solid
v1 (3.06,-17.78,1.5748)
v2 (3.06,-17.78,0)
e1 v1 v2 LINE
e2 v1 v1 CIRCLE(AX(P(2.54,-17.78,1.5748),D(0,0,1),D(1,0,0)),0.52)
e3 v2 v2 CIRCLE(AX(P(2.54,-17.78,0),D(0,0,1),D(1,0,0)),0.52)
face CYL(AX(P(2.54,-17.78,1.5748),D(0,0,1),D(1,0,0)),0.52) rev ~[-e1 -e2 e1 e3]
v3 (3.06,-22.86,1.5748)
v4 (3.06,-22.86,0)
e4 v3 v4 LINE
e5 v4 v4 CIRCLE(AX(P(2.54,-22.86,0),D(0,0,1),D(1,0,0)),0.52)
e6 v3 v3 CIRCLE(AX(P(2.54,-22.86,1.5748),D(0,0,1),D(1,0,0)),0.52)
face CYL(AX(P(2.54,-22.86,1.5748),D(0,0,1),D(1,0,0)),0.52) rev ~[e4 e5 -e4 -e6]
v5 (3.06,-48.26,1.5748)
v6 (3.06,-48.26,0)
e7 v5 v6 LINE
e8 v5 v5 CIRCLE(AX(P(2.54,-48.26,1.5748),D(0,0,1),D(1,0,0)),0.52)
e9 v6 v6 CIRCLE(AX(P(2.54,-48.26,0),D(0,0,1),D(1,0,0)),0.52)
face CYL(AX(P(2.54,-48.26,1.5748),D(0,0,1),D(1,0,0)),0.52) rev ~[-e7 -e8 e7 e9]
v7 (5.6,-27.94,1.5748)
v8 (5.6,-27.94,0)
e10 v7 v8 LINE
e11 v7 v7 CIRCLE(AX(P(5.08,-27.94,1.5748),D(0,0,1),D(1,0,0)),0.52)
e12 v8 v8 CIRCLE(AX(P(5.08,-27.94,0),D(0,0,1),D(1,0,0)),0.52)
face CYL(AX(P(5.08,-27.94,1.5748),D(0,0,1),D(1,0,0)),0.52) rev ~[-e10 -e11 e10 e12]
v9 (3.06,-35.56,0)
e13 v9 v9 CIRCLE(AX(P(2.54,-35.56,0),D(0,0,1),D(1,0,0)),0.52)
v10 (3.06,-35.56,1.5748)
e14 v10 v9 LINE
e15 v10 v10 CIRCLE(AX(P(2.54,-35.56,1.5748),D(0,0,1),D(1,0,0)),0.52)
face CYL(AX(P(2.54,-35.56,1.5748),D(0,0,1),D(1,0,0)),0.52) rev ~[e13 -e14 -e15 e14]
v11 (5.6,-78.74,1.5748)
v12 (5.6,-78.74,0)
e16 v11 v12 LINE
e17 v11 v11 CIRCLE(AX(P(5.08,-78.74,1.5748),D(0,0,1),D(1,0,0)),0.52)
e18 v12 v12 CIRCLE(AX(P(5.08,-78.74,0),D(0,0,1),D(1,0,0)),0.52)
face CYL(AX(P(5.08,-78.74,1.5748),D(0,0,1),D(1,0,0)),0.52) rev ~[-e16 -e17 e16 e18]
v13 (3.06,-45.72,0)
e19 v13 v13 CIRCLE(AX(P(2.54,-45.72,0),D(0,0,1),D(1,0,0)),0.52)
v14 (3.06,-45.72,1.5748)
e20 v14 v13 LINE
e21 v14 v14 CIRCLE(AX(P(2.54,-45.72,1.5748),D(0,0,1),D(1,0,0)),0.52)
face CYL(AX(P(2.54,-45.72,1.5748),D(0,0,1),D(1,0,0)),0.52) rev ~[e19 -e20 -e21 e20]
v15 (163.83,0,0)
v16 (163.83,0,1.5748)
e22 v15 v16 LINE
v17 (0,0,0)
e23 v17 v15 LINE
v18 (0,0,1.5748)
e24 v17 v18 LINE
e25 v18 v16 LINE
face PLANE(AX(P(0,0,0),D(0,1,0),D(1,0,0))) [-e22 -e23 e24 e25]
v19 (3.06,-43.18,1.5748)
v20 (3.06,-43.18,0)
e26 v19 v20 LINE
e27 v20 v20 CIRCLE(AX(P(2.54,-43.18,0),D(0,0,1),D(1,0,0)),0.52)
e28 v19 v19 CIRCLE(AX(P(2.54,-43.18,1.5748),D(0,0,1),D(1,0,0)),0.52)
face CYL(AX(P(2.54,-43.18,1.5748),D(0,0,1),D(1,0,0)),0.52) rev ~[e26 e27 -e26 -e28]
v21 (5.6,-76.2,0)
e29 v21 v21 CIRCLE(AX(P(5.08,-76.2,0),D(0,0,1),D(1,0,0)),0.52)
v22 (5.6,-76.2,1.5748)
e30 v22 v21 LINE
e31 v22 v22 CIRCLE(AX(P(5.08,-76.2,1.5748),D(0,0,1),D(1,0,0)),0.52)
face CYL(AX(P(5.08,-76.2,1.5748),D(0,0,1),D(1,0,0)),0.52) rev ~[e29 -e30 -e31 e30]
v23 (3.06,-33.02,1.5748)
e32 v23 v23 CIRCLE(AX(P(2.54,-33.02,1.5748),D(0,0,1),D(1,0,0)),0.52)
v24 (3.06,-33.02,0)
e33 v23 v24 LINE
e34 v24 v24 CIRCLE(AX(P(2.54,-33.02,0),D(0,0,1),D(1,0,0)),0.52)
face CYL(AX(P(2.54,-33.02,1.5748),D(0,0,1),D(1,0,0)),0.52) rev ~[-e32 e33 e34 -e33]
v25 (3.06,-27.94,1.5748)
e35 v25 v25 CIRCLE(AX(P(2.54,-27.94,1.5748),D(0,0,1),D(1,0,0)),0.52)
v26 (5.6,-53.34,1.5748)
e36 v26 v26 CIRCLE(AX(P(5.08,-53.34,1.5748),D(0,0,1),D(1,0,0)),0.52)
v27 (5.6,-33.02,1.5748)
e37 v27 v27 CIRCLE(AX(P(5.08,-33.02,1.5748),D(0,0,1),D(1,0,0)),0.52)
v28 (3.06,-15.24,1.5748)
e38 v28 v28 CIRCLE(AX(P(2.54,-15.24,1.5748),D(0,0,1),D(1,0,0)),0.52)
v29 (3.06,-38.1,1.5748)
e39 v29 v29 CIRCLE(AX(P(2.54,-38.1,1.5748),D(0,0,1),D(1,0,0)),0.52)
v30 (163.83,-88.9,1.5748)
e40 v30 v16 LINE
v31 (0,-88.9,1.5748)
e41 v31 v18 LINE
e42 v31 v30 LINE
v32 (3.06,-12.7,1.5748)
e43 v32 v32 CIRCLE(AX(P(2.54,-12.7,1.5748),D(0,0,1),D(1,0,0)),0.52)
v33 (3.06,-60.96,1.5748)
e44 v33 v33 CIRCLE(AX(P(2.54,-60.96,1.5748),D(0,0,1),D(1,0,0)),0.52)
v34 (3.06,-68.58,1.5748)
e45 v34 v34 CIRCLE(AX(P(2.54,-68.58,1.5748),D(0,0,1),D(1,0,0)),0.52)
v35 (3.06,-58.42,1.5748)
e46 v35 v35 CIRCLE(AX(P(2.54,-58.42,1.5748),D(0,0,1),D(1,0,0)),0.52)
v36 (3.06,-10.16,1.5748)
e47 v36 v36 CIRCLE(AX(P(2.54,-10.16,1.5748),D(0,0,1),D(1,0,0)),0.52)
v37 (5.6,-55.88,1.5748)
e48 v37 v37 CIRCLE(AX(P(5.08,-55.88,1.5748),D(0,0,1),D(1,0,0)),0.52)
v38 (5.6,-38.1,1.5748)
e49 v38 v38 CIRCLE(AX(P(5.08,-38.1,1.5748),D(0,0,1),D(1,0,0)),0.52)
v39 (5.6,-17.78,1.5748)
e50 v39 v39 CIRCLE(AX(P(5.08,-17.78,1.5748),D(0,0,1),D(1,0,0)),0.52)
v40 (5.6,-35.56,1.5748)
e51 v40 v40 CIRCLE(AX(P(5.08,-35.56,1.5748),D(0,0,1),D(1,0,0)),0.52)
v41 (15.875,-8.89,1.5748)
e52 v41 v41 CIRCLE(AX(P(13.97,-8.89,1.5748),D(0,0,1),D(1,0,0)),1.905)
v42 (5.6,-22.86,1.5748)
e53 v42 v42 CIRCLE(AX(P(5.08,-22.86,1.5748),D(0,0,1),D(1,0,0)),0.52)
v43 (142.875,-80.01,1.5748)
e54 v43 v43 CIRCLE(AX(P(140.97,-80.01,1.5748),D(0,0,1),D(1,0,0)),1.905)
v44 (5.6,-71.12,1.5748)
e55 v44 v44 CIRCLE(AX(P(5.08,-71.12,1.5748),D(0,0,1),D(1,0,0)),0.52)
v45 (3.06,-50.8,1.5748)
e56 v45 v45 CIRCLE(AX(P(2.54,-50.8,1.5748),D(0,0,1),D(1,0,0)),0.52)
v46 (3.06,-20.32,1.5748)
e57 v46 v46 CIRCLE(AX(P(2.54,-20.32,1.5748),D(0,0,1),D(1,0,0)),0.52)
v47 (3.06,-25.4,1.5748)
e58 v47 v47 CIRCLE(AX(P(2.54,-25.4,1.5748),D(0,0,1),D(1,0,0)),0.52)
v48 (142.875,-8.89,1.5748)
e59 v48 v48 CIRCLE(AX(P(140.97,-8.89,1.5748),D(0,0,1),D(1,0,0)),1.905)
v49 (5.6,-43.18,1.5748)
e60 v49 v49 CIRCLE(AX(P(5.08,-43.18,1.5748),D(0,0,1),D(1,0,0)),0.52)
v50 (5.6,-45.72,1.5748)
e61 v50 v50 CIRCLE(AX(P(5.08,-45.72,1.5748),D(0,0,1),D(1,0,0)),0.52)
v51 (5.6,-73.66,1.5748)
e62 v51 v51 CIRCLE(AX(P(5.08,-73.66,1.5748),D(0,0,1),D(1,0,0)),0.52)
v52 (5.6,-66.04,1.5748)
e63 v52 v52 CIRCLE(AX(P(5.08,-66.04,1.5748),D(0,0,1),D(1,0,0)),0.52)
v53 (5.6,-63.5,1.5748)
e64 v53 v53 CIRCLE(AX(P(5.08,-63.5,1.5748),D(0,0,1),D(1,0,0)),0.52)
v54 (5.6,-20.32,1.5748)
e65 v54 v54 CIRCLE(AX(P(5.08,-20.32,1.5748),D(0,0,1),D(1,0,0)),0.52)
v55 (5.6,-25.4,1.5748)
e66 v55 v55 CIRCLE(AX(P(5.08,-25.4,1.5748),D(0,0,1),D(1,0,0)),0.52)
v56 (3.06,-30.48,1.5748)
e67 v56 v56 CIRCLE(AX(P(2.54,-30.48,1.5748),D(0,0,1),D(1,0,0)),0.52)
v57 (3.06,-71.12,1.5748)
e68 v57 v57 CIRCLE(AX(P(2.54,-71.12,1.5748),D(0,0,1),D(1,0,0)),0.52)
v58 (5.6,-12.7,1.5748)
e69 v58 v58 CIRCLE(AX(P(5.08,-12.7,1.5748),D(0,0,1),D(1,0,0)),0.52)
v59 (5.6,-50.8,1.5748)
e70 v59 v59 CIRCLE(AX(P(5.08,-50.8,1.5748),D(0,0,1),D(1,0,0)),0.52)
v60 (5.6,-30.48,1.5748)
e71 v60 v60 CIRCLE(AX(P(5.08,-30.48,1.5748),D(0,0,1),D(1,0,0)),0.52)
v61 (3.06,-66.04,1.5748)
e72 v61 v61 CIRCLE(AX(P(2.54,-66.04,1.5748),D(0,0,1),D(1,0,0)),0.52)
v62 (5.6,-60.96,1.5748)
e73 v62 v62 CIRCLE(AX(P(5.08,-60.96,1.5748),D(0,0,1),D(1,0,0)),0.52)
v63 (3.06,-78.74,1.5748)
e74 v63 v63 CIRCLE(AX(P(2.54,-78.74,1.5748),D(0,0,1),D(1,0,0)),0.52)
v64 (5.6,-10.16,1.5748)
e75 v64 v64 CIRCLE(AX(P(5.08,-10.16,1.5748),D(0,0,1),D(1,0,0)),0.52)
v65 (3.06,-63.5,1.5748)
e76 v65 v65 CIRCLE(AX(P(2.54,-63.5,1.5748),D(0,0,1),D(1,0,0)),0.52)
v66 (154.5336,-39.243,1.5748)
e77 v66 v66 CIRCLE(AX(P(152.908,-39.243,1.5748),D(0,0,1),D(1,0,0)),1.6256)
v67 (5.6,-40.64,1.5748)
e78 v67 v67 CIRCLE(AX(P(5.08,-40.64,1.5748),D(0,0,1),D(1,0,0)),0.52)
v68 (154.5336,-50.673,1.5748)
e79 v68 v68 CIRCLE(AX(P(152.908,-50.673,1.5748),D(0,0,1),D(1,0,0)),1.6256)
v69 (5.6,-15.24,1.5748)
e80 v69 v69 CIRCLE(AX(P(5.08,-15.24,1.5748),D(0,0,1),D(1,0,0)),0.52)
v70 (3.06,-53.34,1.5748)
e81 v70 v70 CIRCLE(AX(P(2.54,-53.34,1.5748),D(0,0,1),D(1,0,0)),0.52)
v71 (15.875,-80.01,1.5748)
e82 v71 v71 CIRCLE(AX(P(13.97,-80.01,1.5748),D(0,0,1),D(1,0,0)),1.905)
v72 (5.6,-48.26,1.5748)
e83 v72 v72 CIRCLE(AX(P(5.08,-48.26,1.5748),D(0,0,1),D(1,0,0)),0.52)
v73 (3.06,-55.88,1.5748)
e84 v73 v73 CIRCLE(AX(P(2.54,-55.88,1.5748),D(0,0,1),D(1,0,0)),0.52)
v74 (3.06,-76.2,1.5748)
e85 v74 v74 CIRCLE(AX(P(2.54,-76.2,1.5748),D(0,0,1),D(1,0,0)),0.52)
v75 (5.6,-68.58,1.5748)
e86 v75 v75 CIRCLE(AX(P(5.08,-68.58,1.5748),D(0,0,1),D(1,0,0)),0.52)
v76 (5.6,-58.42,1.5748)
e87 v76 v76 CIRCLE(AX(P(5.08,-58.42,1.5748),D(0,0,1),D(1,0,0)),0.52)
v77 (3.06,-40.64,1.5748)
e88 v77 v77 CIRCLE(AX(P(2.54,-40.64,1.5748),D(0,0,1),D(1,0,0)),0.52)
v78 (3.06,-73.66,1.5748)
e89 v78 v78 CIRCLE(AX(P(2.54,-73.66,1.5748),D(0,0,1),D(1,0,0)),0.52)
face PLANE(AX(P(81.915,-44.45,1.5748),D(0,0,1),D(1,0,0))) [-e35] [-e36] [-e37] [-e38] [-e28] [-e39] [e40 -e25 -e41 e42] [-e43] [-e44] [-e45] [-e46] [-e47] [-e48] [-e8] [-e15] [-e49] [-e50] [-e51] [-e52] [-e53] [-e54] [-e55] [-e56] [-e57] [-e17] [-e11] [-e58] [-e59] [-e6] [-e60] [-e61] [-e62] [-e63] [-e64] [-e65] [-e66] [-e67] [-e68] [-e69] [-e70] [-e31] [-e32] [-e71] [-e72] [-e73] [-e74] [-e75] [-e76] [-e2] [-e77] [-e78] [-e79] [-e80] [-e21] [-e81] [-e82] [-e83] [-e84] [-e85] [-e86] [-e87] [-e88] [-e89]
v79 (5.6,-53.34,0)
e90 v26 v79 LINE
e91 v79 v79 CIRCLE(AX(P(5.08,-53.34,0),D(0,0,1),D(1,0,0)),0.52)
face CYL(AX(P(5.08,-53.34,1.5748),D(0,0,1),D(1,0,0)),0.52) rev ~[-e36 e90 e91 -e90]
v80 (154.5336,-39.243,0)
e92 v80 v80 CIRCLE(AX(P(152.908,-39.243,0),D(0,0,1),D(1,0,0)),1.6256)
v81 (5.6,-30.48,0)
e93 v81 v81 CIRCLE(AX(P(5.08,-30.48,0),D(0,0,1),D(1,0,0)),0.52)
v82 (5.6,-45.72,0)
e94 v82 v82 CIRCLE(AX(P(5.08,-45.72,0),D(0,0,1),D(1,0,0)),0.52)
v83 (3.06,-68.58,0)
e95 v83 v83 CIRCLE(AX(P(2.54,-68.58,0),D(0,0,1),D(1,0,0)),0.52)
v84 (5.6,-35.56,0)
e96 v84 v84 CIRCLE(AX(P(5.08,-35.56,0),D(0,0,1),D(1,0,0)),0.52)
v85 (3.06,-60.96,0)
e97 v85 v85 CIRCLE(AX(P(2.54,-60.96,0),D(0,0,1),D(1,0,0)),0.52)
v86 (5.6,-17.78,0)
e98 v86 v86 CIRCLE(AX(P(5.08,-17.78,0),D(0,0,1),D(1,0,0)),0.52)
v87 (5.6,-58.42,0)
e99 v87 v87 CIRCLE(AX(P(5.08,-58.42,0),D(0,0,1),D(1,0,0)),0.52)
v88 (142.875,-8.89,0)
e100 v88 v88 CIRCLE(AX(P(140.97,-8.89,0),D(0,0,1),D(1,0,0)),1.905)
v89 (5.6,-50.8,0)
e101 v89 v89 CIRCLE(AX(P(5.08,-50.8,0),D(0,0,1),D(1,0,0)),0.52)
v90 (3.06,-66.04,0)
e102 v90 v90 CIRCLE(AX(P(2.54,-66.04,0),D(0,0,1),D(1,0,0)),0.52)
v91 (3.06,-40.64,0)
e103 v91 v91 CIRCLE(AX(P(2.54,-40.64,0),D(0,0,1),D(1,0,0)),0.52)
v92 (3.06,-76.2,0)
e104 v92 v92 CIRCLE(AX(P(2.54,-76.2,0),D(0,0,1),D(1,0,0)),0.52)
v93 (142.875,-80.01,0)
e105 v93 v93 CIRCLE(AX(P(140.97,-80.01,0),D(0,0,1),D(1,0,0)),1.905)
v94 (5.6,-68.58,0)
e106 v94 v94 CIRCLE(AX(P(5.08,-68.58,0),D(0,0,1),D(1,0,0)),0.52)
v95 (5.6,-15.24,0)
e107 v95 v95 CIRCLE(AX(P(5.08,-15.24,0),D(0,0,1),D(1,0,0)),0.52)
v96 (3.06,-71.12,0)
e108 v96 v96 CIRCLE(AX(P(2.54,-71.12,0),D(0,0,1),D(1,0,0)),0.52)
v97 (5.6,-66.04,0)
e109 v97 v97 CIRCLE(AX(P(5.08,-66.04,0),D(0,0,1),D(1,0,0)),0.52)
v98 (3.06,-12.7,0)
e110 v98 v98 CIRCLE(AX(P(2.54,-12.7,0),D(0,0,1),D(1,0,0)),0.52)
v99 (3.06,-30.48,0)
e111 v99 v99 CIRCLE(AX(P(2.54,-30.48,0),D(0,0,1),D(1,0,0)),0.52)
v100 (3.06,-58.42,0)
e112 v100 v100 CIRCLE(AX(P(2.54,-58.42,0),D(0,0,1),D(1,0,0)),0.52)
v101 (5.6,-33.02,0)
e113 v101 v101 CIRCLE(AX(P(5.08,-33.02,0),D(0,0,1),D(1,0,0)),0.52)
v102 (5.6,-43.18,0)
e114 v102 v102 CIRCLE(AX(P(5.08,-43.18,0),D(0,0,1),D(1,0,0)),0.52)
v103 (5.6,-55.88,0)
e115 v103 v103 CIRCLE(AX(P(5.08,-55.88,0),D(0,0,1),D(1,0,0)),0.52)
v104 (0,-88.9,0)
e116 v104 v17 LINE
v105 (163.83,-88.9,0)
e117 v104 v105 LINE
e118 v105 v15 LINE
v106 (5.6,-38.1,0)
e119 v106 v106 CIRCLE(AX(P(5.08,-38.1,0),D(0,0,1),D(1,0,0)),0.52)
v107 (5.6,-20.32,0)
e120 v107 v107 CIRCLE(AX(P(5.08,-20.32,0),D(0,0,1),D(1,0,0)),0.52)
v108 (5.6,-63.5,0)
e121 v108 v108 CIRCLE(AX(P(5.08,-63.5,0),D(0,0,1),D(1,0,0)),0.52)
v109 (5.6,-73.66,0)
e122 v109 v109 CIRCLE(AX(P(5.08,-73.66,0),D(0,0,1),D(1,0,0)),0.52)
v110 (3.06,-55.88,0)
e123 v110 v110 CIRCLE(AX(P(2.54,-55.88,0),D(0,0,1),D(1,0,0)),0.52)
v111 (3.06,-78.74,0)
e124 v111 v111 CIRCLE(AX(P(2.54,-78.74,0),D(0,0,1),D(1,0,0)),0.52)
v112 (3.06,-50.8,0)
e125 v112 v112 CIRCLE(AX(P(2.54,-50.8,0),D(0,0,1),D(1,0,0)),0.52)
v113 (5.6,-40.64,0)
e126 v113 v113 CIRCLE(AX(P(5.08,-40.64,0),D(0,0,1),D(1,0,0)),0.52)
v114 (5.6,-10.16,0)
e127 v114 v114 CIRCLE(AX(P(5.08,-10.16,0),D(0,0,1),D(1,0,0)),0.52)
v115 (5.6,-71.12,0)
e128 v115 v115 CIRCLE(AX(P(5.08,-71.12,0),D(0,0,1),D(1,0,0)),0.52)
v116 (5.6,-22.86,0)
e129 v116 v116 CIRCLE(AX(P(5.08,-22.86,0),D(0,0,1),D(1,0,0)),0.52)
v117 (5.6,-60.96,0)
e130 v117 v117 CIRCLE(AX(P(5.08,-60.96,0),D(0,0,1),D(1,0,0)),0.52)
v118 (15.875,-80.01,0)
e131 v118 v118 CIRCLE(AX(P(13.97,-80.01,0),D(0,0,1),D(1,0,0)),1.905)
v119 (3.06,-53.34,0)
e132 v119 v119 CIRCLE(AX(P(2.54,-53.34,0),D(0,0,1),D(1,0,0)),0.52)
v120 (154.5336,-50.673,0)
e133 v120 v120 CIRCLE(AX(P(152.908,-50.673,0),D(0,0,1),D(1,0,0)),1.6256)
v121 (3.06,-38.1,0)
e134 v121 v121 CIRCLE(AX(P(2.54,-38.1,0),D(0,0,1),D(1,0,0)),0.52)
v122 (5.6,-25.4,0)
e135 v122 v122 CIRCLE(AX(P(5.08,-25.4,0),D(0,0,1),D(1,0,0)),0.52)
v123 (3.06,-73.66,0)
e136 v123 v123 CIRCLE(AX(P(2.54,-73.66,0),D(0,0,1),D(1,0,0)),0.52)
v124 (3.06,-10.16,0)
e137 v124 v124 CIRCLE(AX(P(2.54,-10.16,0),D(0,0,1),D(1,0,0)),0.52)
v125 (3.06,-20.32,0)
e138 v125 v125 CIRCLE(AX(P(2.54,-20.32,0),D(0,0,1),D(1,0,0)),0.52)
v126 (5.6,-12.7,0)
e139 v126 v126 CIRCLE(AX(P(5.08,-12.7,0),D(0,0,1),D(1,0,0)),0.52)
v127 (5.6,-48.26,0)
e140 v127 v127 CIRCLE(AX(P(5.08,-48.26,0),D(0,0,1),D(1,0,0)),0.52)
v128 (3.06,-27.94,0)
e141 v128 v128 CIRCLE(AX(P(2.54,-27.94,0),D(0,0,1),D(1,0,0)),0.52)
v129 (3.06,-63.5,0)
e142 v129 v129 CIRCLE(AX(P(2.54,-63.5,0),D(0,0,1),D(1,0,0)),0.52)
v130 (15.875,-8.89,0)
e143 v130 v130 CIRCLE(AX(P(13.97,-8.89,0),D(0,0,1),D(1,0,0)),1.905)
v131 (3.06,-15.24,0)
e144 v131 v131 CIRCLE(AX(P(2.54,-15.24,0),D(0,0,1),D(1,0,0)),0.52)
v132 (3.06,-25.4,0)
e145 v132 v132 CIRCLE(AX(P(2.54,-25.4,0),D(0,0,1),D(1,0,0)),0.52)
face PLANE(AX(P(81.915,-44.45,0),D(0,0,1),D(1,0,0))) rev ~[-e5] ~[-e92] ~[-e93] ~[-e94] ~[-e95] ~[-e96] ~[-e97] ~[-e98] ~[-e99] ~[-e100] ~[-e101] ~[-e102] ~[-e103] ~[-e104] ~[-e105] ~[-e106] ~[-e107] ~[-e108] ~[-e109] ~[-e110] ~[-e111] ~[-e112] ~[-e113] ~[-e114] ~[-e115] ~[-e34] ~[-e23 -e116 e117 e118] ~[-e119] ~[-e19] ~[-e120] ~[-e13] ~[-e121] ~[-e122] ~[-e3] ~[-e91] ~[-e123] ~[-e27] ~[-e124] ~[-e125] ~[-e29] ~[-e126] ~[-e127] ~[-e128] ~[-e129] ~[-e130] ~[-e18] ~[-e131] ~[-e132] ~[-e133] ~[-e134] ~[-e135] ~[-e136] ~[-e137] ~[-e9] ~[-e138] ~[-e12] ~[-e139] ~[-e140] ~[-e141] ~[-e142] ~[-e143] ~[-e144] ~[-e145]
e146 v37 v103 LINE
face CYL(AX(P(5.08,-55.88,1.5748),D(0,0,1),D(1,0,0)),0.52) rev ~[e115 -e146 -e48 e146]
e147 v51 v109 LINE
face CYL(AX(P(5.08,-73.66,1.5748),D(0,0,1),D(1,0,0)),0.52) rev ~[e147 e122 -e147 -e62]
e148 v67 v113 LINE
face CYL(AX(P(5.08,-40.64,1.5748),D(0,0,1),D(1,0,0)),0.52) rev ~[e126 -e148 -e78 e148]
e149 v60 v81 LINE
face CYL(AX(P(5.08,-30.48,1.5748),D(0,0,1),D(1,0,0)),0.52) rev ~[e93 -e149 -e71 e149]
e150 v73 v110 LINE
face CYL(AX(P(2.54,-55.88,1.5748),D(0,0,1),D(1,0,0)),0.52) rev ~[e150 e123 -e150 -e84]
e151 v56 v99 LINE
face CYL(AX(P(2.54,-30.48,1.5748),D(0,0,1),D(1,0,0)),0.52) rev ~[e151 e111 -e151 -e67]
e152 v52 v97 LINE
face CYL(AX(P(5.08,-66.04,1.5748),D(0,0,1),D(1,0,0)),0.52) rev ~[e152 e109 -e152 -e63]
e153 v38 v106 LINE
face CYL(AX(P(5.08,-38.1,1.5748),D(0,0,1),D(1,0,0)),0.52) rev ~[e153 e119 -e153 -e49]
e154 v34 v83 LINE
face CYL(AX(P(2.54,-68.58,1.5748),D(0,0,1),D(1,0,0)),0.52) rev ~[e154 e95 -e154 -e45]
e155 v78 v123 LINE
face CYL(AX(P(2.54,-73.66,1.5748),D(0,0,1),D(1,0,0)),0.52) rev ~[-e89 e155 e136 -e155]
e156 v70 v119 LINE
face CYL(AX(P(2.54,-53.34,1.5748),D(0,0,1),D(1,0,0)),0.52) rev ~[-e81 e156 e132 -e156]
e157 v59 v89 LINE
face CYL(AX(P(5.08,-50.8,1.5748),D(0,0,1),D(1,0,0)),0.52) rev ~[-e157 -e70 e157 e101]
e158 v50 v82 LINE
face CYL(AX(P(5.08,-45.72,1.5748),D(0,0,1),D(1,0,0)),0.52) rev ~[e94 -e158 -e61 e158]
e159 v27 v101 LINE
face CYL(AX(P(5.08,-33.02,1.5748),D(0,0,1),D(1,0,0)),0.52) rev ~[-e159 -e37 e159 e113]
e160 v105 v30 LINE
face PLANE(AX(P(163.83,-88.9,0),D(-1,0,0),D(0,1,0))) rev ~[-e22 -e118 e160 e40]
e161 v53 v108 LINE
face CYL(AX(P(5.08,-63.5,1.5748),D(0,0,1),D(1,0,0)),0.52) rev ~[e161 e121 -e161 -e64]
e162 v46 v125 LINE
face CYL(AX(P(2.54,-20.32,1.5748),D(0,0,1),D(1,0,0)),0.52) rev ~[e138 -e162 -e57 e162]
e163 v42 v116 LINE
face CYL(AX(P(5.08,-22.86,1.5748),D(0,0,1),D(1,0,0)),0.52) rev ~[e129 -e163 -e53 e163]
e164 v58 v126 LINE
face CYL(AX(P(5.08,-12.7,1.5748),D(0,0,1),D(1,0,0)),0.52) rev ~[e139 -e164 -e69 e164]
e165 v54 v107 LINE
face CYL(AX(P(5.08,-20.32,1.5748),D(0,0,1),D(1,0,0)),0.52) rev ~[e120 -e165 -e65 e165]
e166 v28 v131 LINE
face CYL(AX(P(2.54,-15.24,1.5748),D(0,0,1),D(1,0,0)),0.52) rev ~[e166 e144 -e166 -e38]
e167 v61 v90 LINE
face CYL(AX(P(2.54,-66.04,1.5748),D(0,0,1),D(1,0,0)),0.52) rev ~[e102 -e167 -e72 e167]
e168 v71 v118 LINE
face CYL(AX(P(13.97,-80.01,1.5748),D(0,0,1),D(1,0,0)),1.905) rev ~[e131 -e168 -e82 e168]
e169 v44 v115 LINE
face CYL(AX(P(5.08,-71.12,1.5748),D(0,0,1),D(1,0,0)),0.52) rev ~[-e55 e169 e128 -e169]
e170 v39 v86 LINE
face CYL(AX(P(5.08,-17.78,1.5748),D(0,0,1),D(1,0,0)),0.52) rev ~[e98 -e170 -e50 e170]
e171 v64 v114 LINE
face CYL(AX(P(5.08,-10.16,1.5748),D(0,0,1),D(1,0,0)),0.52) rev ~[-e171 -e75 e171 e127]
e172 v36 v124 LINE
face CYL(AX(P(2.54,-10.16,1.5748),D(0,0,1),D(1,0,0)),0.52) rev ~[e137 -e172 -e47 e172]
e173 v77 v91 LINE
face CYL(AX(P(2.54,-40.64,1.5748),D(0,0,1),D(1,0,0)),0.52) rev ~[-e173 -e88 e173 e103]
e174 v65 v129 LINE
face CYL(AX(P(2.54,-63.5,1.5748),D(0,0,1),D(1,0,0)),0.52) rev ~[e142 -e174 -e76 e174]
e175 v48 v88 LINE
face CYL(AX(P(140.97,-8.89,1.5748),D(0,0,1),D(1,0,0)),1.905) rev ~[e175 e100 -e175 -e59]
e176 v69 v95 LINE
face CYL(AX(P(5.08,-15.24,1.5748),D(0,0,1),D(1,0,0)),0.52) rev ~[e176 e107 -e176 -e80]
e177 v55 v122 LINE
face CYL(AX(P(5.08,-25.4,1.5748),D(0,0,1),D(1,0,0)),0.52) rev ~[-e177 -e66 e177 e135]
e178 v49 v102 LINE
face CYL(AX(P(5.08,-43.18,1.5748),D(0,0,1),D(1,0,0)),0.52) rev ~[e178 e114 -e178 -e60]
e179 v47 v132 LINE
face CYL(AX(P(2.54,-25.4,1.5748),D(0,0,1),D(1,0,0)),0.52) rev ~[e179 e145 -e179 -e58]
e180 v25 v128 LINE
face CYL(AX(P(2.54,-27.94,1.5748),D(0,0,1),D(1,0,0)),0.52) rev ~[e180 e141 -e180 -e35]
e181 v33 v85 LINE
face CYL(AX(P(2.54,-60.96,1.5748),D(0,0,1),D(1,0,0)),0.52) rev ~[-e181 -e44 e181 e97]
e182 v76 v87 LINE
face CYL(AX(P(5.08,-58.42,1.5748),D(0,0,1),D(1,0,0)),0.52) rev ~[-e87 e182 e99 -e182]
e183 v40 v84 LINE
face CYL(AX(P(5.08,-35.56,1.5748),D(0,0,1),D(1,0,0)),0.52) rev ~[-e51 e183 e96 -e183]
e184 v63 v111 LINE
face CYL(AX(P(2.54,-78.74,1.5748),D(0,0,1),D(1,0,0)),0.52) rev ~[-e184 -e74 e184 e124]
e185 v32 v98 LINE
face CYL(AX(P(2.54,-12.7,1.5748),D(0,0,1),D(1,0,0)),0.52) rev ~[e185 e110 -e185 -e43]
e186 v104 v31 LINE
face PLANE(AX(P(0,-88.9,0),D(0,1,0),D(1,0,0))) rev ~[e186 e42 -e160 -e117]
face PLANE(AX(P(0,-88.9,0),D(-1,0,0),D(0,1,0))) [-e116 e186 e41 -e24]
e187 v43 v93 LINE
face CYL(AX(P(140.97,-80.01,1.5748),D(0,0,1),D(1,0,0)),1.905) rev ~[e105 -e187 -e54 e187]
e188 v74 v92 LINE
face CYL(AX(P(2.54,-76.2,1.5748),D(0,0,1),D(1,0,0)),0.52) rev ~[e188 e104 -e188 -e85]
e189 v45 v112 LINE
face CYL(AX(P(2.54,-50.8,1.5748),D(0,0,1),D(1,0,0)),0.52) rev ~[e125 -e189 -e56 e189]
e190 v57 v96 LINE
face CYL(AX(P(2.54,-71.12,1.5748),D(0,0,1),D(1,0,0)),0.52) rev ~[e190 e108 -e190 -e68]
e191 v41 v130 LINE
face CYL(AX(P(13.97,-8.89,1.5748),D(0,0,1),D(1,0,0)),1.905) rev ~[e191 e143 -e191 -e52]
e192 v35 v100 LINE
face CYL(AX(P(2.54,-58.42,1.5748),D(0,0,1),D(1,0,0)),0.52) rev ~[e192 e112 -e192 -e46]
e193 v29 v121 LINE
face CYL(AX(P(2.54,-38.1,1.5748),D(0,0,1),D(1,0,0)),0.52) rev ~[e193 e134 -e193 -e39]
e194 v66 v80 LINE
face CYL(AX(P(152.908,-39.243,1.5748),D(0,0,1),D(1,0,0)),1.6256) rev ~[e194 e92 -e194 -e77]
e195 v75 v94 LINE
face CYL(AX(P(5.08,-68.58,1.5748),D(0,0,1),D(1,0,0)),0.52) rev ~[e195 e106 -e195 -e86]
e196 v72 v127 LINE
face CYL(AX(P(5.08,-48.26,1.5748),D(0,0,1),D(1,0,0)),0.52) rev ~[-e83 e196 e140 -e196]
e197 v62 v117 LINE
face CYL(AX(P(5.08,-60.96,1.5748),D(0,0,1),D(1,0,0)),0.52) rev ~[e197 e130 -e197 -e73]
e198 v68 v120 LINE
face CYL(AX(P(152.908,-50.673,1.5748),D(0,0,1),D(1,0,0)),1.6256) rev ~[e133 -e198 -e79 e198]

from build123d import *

# Parameters (mm, degrees)
SKETCH1_W                     = 163.83
SKETCH1_H                     = 88.9
EXTRUDE1_DEPTH                = 1.5748
SKETCH3_R                     = 1.6256
CUT_EXTRUDE2_DEPTH            = 10
SKETCH4_R                     = 1.905
MOUNT_HOLES_DEPTH             = 10
MOUNT_HOLE_PATTERN_COUNT      = 2
MOUNT_HOLE_PATTERN_PITCH      = 71.12
MOUNT_HOLE_PATTERN_COUNT_DIR2 = 2
MOUNT_HOLE_PATTERN_PITCH_DIR2 = 127
MOUNT_PIN_HOLES_R             = 0.52
CONNECTOR_PIN_1_DEPTH         = 2.54
LPATTERN1_COUNT               = 28
LPATTERN1_PITCH               = 2.54
LPATTERN1_COUNT_DIR2          = 2
LPATTERN1_PITCH_DIR2          = 2.54


with BuildPart() as part:
    # Sketch1 → Extrude1 (new body)
    with BuildSketch(Plane.XY):
        with Locations((81.915, -44.45)):
            Rectangle(SKETCH1_W, SKETCH1_H)
    extrude(amount=EXTRUDE1_DEPTH)

    # Sketch3 → Cut-Extrude2 (cut)
    with BuildSketch(Plane.XY.offset(1.5748)):
        with Locations((152.908, -50.673)):
            Circle(SKETCH3_R)
        with Locations((152.908, -39.243)):
            Circle(SKETCH3_R)
    extrude(amount=-CUT_EXTRUDE2_DEPTH, mode=Mode.SUBTRACT)

    # Sketch4 → Mount Holes (cut)
    with BuildSketch(Plane.XY.offset(1.5748)):
        with Locations((13.97, -80.01)):
            Circle(SKETCH4_R)
    mount_holes = extrude(amount=-MOUNT_HOLES_DEPTH, mode=Mode.SUBTRACT)

    # Mount Hole Pattern: Mount Holes 2 × 2
    with Locations(*[(j * MOUNT_HOLE_PATTERN_PITCH_DIR2, i * MOUNT_HOLE_PATTERN_PITCH, 0) for i in range(MOUNT_HOLE_PATTERN_COUNT) for j in range(MOUNT_HOLE_PATTERN_COUNT_DIR2) if (i, j) != (0, 0)]):
        add(mount_holes, mode=Mode.SUBTRACT)

    # Mount pin holes → Connector Pin 1 (cut)
    with BuildSketch(Plane.XY.offset(1.5748)):
        with Locations((2.54, -78.74)):
            Circle(MOUNT_PIN_HOLES_R)
    connector_pin_1 = extrude(amount=-CONNECTOR_PIN_1_DEPTH, mode=Mode.SUBTRACT)

    # LPattern1: Connector Pin 1 28 × 2
    with Locations(*[(j * LPATTERN1_PITCH_DIR2, i * LPATTERN1_PITCH, 0) for i in range(LPATTERN1_COUNT) for j in range(LPATTERN1_COUNT_DIR2) if (i, j) != (0, 0)]):
        add(connector_pin_1, mode=Mode.SUBTRACT)


solid = part.part
